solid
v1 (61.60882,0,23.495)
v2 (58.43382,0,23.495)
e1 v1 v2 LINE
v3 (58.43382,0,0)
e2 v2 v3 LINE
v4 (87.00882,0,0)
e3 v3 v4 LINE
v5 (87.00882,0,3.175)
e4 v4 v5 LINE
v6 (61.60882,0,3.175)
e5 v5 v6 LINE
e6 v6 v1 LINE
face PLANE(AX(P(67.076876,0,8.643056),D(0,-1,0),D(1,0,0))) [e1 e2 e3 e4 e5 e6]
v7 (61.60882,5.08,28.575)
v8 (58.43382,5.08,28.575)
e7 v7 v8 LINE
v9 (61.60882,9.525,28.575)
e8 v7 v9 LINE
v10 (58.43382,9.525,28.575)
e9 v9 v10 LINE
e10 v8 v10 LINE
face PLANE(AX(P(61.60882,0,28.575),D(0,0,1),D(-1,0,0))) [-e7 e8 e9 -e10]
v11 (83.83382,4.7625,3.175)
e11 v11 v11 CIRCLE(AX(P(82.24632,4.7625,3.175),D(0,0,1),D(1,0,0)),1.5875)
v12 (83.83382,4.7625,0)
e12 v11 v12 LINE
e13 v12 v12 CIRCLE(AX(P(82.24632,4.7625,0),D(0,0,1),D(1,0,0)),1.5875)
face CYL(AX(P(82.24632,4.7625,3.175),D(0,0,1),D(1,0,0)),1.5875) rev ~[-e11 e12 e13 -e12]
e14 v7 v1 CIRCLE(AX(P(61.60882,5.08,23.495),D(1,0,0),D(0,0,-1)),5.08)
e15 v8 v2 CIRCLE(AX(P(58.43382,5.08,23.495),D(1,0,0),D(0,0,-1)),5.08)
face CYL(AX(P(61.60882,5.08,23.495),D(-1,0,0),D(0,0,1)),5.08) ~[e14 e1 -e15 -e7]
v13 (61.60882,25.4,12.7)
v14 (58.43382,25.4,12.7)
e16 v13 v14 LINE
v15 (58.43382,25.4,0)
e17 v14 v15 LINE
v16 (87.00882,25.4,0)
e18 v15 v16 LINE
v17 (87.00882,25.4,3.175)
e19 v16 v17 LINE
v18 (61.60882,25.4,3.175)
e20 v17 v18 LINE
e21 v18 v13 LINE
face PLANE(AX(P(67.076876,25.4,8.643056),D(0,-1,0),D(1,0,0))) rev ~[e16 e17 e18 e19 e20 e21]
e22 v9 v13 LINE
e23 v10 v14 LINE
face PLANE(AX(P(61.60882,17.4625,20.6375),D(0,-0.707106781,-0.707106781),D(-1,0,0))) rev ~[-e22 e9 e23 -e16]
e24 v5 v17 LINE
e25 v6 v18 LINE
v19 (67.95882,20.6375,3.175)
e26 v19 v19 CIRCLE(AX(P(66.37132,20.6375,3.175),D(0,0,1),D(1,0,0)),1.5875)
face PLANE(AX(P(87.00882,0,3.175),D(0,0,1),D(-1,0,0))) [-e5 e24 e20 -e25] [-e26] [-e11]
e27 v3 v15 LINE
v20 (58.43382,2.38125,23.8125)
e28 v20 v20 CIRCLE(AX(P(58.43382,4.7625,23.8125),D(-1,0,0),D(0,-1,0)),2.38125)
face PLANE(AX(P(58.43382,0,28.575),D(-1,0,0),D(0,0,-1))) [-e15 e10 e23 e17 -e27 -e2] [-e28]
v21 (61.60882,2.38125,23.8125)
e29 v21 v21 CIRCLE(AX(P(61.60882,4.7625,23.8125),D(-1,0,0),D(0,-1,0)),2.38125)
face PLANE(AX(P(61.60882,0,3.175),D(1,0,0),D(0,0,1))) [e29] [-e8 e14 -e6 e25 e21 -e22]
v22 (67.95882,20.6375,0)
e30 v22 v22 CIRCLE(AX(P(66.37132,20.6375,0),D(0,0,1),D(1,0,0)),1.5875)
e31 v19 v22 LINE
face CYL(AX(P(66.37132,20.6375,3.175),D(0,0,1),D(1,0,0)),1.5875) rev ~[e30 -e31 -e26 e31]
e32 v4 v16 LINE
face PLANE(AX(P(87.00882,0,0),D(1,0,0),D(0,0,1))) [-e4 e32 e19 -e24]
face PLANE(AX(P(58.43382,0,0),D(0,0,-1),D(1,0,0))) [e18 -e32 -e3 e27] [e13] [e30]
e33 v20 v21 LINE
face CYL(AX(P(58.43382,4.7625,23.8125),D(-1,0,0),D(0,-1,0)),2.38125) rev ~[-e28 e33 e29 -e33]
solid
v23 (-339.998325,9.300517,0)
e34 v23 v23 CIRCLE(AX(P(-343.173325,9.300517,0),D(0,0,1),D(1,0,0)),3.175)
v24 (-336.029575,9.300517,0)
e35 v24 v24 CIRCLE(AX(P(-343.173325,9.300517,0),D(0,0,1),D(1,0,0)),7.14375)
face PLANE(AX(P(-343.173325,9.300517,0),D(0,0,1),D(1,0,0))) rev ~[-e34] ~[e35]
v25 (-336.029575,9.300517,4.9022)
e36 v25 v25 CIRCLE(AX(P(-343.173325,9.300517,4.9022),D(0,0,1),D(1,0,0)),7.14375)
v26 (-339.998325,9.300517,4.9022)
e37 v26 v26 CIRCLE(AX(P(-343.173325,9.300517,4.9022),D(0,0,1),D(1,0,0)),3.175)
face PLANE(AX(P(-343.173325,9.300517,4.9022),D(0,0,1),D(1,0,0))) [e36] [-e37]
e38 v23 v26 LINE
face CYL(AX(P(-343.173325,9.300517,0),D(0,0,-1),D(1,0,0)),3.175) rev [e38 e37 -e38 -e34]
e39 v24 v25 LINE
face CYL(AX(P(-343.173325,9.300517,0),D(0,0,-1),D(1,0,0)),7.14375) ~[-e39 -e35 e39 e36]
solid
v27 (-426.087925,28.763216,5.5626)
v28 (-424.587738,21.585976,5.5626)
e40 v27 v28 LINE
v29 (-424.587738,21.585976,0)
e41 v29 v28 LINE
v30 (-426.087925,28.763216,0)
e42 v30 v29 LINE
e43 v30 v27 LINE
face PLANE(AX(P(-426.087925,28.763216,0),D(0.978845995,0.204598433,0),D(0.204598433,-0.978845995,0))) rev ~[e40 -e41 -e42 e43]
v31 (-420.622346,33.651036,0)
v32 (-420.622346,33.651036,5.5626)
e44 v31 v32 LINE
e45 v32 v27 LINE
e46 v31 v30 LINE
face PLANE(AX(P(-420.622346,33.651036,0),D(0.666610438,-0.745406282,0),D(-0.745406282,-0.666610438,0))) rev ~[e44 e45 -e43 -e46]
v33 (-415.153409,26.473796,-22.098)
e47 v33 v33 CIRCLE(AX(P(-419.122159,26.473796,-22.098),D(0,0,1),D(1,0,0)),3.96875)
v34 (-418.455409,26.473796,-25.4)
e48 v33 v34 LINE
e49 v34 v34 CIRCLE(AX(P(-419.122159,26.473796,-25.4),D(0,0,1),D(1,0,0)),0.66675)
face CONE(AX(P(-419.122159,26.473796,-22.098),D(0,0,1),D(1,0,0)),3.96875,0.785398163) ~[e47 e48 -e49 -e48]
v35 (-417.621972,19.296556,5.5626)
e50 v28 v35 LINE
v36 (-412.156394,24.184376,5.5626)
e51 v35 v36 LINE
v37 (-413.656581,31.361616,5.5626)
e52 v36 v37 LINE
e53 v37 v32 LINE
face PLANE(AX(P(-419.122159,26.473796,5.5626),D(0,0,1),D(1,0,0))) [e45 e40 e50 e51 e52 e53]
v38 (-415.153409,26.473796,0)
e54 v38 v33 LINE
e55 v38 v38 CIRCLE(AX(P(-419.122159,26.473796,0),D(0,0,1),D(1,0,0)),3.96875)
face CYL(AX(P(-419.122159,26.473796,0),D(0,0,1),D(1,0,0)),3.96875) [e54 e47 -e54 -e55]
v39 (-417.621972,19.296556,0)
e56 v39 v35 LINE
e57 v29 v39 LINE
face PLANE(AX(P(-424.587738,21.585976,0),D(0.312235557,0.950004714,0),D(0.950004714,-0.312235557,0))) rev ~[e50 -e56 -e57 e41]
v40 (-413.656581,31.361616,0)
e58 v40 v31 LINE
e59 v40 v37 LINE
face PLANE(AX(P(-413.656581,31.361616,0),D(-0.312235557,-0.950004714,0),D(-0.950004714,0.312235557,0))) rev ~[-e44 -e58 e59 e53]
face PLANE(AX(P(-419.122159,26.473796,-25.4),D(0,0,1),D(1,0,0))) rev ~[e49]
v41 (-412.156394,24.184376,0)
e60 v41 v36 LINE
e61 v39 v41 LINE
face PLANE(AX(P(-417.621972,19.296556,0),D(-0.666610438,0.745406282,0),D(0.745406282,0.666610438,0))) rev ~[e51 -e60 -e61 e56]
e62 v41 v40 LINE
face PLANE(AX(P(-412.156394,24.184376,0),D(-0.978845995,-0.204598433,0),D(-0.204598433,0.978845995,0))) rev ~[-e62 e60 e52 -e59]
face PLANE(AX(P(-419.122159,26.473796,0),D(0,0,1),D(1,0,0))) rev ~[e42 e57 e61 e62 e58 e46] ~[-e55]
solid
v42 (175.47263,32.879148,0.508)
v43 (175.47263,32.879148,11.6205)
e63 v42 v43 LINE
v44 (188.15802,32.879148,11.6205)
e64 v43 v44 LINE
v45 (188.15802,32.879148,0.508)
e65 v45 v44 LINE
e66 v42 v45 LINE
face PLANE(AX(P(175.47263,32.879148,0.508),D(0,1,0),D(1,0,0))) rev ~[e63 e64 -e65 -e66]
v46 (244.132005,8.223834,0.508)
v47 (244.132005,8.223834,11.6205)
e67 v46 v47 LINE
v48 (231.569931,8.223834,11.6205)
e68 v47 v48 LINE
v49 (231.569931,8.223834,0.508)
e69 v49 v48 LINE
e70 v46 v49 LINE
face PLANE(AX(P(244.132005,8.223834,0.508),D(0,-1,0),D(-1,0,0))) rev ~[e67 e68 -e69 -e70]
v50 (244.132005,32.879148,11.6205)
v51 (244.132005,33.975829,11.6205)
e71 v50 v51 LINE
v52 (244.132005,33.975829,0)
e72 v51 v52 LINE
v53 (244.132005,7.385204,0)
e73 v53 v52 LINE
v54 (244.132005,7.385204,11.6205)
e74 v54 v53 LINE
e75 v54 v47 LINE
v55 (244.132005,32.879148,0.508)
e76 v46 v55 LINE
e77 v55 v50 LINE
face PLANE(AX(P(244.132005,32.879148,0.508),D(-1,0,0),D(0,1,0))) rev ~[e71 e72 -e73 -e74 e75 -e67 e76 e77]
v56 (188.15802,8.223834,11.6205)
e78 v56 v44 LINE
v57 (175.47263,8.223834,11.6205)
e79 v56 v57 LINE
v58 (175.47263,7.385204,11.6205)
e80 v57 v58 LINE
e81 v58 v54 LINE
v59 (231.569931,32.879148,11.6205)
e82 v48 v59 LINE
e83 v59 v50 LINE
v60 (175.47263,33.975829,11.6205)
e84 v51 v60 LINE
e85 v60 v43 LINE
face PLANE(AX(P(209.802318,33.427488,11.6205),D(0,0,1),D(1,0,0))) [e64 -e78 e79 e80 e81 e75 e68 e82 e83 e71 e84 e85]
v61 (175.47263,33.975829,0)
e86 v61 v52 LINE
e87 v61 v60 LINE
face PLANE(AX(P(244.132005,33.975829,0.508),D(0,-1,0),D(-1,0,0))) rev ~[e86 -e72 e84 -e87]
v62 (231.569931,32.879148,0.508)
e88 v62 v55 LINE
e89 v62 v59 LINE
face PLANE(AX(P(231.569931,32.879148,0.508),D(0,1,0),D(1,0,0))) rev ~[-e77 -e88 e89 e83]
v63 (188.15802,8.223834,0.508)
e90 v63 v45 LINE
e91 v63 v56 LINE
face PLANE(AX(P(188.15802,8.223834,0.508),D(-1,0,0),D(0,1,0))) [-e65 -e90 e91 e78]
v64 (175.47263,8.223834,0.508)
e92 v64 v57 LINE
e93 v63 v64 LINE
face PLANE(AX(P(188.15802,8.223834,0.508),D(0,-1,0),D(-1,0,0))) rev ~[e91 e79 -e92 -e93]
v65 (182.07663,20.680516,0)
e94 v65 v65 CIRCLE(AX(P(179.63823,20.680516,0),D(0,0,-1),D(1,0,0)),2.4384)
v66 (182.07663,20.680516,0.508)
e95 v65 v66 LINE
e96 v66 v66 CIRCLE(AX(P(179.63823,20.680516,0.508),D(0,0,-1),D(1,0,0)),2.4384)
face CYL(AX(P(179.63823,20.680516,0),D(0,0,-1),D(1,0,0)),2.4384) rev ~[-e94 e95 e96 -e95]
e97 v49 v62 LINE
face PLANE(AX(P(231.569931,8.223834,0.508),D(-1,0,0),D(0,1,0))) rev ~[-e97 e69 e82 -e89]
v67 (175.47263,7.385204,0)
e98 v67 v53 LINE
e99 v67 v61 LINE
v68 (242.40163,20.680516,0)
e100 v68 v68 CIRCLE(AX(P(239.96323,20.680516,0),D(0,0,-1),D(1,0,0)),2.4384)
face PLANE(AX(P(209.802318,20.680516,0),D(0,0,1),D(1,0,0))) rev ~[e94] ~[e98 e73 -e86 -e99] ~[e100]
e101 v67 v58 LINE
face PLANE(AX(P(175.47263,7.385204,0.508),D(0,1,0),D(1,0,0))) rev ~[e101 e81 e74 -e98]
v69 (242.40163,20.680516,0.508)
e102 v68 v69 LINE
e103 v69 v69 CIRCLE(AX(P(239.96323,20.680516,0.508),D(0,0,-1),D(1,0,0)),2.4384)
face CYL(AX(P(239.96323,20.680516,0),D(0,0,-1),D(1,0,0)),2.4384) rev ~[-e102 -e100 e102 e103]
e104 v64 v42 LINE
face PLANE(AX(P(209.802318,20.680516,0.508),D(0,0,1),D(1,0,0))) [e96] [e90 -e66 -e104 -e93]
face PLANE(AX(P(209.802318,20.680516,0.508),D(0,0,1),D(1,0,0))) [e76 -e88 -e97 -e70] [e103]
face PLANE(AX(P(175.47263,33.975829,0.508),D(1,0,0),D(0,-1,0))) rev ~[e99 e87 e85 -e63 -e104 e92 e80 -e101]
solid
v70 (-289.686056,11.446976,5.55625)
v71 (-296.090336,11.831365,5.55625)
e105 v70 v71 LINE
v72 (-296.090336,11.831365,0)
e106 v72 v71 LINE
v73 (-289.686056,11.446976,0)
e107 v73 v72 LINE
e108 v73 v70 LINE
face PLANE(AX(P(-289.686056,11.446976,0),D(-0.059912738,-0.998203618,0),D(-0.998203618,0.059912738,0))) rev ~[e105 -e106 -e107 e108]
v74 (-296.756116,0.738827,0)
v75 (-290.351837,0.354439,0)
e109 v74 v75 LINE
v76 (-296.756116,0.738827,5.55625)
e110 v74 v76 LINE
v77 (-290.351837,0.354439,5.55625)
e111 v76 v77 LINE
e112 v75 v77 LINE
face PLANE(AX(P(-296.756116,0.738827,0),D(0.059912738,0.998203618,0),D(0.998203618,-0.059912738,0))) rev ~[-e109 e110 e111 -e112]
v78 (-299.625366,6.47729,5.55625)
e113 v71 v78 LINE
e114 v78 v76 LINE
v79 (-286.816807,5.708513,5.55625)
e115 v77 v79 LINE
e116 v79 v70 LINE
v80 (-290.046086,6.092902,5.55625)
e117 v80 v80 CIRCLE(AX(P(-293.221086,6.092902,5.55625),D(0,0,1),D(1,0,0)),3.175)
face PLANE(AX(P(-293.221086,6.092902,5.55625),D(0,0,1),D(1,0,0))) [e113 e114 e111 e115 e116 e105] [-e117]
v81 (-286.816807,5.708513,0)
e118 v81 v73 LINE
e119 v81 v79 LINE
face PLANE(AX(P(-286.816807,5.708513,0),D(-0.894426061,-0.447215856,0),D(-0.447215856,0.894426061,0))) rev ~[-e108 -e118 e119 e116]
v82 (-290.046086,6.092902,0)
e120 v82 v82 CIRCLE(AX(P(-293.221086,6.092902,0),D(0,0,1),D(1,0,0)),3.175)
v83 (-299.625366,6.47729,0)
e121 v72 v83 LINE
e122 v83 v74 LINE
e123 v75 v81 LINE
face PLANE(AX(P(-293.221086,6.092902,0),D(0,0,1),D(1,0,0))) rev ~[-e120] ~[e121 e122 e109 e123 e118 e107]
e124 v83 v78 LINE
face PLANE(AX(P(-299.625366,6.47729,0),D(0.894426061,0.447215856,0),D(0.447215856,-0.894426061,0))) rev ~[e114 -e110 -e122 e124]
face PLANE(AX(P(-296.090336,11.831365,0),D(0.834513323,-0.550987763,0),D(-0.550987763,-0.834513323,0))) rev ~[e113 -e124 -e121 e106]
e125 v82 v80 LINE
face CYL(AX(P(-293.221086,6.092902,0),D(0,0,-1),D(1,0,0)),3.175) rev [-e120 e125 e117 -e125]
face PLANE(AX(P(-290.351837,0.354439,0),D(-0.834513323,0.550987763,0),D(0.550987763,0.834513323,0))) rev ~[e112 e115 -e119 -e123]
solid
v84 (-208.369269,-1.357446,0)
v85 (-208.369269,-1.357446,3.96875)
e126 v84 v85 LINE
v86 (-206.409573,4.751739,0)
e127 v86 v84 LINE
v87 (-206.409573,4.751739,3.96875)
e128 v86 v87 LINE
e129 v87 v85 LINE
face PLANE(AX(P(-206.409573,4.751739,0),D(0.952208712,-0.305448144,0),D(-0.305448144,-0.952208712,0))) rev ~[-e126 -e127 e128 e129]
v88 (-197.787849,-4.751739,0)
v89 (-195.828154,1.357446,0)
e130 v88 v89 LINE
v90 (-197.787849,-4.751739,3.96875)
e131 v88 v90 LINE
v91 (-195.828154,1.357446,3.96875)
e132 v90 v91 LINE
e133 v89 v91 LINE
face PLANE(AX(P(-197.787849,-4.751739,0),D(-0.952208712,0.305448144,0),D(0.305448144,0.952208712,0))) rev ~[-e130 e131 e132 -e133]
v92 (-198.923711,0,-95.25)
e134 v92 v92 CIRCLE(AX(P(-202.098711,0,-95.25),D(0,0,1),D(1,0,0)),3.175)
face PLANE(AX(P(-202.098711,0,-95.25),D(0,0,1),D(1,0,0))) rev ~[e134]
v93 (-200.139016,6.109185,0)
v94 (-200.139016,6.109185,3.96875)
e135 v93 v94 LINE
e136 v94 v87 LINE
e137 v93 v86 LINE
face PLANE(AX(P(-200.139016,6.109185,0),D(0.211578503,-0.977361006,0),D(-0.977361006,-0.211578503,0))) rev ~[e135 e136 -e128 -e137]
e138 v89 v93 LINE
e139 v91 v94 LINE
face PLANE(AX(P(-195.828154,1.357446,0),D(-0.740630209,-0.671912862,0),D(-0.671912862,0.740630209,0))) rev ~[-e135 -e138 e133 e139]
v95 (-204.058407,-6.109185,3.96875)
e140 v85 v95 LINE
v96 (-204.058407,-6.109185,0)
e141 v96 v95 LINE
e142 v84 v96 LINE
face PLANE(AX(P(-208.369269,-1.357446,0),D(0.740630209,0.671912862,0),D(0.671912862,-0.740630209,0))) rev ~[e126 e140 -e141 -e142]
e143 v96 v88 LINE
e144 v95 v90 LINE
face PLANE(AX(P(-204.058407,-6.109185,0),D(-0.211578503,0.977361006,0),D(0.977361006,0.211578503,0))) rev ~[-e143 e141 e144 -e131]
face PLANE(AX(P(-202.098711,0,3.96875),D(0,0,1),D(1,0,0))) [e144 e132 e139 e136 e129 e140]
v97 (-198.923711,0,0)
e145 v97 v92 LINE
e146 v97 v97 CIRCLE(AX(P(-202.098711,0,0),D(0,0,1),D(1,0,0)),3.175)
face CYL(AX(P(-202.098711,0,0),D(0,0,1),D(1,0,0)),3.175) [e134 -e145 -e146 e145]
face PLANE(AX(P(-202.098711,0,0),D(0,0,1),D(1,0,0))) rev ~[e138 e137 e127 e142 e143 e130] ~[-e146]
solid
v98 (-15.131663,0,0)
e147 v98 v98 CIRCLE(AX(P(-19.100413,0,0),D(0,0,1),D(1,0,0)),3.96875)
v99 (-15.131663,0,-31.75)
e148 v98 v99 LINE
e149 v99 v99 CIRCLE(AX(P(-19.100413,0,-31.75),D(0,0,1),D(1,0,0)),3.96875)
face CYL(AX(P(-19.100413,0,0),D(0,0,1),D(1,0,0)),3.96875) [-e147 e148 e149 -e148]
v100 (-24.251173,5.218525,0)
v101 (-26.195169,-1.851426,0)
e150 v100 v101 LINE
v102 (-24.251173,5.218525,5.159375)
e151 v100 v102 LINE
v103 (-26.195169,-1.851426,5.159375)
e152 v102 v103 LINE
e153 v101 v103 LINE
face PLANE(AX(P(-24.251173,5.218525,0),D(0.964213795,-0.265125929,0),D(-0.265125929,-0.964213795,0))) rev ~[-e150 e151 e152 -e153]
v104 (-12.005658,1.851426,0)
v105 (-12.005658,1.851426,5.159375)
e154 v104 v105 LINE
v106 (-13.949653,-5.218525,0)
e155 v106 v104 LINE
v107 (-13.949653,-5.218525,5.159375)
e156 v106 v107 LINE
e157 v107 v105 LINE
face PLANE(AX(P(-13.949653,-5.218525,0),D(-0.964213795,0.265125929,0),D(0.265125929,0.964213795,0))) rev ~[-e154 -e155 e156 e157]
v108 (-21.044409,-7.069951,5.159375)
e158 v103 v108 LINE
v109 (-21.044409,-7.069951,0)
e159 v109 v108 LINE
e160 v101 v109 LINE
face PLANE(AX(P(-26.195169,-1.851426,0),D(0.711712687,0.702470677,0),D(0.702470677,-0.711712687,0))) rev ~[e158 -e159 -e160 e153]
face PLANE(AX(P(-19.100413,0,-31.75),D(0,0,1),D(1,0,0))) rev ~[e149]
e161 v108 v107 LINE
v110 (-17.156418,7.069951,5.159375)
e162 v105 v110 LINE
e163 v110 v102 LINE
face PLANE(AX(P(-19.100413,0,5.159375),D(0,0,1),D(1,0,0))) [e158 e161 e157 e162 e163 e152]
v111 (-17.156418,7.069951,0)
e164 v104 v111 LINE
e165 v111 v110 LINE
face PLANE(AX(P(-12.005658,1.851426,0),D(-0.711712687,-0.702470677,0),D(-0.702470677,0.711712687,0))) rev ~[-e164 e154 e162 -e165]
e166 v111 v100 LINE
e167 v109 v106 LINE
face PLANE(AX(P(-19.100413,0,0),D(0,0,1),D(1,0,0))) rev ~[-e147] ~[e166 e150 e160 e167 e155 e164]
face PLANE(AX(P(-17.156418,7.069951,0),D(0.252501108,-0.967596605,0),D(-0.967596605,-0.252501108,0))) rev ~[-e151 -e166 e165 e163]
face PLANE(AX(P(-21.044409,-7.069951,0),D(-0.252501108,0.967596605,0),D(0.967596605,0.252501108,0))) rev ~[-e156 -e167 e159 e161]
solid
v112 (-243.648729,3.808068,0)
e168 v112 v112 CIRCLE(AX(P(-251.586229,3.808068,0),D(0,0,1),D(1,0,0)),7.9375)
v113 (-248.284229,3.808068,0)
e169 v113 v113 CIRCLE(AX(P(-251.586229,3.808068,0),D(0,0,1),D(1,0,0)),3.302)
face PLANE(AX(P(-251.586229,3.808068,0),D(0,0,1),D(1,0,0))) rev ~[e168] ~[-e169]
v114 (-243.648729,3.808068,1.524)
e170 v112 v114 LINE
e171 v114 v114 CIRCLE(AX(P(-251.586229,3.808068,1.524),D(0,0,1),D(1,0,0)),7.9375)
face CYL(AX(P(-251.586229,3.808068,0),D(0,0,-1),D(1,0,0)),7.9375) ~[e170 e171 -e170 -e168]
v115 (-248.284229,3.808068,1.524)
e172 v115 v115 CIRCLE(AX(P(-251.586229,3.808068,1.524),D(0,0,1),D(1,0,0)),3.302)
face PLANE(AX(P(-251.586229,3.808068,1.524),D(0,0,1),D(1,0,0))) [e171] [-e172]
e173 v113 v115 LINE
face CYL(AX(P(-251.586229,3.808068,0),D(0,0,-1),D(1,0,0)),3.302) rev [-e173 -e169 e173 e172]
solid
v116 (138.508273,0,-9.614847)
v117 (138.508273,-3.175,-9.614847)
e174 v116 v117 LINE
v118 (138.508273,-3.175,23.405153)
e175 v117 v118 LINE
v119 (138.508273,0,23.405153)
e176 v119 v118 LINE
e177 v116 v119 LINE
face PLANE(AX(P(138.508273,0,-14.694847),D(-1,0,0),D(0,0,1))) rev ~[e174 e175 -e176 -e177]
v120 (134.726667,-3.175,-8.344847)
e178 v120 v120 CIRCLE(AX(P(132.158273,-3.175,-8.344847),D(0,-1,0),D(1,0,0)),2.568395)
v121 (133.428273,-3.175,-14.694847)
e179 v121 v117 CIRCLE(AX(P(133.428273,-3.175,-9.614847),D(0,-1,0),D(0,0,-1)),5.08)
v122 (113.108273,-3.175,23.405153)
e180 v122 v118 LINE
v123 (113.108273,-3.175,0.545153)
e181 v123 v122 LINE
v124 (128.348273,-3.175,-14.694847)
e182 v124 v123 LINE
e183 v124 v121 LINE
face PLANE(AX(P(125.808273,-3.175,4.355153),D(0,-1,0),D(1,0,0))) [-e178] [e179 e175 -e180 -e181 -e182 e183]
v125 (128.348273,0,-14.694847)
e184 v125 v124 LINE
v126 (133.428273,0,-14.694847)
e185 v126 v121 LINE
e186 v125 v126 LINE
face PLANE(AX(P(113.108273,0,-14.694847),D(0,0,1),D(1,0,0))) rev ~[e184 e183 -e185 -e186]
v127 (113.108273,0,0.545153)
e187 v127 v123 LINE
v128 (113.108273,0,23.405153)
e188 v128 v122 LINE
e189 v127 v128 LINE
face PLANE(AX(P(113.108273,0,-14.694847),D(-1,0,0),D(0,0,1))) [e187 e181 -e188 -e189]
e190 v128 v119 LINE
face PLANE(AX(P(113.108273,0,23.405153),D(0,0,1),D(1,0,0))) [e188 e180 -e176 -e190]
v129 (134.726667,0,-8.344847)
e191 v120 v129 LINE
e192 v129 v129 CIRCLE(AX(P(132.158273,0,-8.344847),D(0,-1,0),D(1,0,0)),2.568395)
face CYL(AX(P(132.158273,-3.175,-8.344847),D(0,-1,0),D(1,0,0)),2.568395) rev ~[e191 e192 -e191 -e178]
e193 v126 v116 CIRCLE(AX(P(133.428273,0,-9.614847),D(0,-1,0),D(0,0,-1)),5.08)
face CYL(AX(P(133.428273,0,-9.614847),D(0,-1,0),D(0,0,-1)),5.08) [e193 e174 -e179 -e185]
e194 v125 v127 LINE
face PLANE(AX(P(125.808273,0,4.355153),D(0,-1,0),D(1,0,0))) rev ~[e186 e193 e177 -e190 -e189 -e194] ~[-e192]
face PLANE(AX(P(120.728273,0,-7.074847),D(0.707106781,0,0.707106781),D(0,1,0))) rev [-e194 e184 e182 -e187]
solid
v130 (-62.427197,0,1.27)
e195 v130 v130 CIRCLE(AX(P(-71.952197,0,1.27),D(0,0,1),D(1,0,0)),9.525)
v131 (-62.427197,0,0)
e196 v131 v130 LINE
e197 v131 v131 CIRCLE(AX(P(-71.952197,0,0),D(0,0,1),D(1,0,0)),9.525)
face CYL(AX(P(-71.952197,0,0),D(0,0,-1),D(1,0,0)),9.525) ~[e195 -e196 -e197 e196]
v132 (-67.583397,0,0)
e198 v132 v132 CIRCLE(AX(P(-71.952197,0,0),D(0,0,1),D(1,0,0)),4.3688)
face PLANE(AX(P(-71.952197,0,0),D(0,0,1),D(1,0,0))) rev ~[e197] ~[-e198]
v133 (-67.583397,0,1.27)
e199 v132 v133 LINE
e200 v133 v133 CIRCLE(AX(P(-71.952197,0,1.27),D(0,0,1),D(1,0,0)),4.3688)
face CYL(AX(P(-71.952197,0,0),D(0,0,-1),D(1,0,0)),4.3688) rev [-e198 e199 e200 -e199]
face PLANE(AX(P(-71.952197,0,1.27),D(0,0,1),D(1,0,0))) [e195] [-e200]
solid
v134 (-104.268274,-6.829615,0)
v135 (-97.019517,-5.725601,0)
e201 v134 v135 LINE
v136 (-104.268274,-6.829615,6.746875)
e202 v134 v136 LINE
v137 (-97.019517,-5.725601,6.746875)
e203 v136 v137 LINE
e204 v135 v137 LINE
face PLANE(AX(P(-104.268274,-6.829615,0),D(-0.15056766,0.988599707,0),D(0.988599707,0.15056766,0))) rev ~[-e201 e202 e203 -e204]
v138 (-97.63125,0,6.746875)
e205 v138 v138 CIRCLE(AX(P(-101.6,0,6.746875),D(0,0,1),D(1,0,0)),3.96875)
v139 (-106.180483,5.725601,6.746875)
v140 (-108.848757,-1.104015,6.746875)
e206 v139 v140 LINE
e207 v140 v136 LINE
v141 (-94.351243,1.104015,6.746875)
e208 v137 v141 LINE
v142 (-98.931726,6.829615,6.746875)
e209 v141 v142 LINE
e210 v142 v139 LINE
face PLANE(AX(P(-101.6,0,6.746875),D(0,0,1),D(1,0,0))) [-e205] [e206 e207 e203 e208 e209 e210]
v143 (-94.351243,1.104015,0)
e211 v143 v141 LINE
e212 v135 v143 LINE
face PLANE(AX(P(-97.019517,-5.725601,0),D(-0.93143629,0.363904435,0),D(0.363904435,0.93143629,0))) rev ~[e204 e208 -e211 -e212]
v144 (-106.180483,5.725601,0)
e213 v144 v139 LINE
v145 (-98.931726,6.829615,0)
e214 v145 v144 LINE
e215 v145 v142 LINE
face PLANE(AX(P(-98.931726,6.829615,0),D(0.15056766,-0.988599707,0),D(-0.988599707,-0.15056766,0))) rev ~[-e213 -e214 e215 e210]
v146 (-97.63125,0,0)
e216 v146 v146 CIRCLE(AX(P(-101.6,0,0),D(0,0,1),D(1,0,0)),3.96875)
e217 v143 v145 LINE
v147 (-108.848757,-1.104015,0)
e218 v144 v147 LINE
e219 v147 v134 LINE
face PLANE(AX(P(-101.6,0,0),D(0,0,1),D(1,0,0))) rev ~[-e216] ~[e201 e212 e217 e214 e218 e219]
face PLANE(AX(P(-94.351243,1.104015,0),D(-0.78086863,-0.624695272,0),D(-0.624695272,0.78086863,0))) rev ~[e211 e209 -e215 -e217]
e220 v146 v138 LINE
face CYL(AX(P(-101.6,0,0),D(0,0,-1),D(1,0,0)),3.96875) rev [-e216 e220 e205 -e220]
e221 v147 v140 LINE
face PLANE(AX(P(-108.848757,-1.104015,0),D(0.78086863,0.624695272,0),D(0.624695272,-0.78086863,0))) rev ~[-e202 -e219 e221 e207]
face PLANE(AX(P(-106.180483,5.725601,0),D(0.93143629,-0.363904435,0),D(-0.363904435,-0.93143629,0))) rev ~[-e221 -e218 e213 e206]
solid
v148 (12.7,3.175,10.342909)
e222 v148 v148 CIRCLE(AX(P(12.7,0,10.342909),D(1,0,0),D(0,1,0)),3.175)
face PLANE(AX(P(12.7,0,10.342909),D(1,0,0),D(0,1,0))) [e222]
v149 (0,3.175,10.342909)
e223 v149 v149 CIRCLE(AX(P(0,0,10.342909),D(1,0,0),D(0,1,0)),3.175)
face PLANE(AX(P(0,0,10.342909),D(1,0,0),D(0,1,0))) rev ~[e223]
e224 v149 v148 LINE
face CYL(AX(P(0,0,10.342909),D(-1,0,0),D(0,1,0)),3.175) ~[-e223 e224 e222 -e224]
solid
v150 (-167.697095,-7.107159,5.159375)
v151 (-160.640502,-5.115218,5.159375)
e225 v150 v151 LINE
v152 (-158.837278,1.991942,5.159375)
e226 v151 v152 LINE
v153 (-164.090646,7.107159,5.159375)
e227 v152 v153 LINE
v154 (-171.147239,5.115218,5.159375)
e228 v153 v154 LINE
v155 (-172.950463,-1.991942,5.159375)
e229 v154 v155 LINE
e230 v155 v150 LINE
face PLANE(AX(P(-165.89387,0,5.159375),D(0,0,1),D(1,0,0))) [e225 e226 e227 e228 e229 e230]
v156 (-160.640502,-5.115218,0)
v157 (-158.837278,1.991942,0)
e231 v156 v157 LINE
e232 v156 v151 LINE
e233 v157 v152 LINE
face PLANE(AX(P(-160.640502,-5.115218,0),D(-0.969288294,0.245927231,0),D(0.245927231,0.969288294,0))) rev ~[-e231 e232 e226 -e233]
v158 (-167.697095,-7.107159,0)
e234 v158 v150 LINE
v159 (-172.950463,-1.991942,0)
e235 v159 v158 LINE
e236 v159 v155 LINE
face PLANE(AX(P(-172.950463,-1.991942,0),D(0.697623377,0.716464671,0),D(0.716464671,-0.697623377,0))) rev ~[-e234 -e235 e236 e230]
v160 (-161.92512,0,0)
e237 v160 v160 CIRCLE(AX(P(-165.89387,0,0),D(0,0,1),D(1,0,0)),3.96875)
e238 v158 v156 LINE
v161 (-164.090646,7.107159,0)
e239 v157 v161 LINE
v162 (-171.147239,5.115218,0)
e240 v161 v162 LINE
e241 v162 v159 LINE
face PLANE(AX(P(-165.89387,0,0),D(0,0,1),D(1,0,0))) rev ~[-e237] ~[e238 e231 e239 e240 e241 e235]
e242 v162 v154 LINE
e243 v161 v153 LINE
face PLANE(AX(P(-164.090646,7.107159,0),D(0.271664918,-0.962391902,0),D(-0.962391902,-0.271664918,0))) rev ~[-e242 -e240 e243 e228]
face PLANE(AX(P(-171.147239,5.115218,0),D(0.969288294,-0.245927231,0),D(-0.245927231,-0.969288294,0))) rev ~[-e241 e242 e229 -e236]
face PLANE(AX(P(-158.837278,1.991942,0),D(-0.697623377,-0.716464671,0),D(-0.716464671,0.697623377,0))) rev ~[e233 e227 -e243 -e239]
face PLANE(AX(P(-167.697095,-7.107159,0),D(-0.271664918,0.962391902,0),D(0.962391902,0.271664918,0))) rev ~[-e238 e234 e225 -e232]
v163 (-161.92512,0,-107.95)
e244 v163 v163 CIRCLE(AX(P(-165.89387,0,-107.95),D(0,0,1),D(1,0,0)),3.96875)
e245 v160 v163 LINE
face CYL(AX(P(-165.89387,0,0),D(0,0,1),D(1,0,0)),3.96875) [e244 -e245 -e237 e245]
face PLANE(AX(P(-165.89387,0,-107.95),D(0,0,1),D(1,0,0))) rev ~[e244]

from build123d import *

# Parameters (mm, degrees)
F0_R      = 3.175
F1_DEPTH  = 12.7
F2_R      = 3.96875
F3_DEPTH  = 31.75
F4_R      = 3.96875
F5_DEPTH  = 5.159375
F6_R      = 9.525
F6_R_2    = 4.3688
F7_DEPTH  = 1.27
F8_R      = 3.96875
F9_DEPTH  = 6.746875
F11_DEPTH = 25.4
F12_R     = 1.5875
F13_DEPTH = 25.4
F14_R     = 2.38125
F15_DEPTH = 25.4
F16_R     = 5.08
F17_SIZE  = 15.875
F18_W     = 25.4
F18_H     = 38.1
F19_DEPTH = 3.175
F20_R     = 2.5683945877
F21_DEPTH = 25.4
F22_R     = 5.08
F23_SIZE  = 15.24
F24_R     = 3.96875
F25_DEPTH = 107.95
F27_DEPTH = 5.159375
F28_R     = 3.175
F29_DEPTH = 95.25
F30_R     = 3.175
F31_DEPTH = 3.96875
F32_R     = 7.9375
F32_R_2   = 3.302
F33_DEPTH = 1.524
F34_R     = 3.175
F35_DEPTH = 5.55625
F36_R     = 7.14375
F36_R_2   = 3.175
F37_DEPTH = 4.9022
F38_W     = 68.659375
F38_H     = 26.590625
F39_DEPTH = 0.508
F40_W     = 43.4119105339
F40_H     = 24.6553132311
F41_DEPTH = 11.1125
F42_R     = 2.4384
F43_DEPTH = 25.4
F44_R     = 3.96875
F45_DEPTH = 25.4
F47_DEPTH = 5.5626
F48_SIZE  = 3.302


with BuildPart() as f1:
    # F0 (on Right) → F1 (new body)
    with BuildSketch(Plane.YZ):
        with Locations((0, 10.3429089811)):
            Circle(F0_R)
    extrude(amount=F1_DEPTH)


with BuildPart() as f3:
    # F2 (on Top) → F3 (new body)
    with BuildSketch(Plane.XY):
        with Locations((-19.1004131994, 0)):
            Circle(F2_R)
    extrude(amount=-F3_DEPTH)

    # F4 (on face) → F5 (join)
    with BuildSketch(Plane.XY):
        Polygon((-12.0056577609, 1.8514260994), (-17.1564175154, 7.0699514931), (-24.2511729539, 5.2185253937), (-26.1951686378, -1.8514260994), (-21.0444088833, -7.0699514931), (-13.9496534448, -5.2185253937), align=None)
        with Locations((-19.1004131994, 0)):
            Circle(F4_R, mode=Mode.SUBTRACT)
        with Locations((-19.1004131994, 0)):
            Circle(F4_R)
    extrude(amount=F5_DEPTH)


with BuildPart() as f7:
    # F6 (on Top) → F7 (new body)
    with BuildSketch(Plane.XY):
        with Locations((-71.952196846, 0)):
            Circle(F6_R)
        with Locations((-71.952196846, 0)):
            Circle(F6_R_2, mode=Mode.SUBTRACT)
    extrude(amount=F7_DEPTH)


with BuildPart() as f9:
    # F8 (on Top) → F9 (new body)
    with BuildSketch(Plane.XY):
        Polygon((-94.3512425048, 1.1040145422), (-98.9317258921, 6.8296154078), (-106.1804833873, 5.7256008656), (-108.8487574952, -1.1040145422), (-104.2682741079, -6.8296154078), (-97.0195166127, -5.7256008656), align=None)
        with Locations((-101.6, 0)):
            Circle(F8_R, mode=Mode.SUBTRACT)
    extrude(amount=F9_DEPTH)


with BuildPart() as f11:
    # F10 (on Front) → F11 (new body)
    with BuildSketch(Plane.XZ):
        Polygon((61.6088200091, 28.575), (58.4338200091, 28.575), (58.4338200091, 0), (87.0088200091, 0), (87.0088200091, 3.175), (61.6088200091, 3.175), align=None)
    extrude(amount=-F11_DEPTH)

    # F12 (on face) → F13 (cut)
    with BuildSketch(Plane.XY.offset(3.175)):
        with Locations((66.3713200091, 20.6375)):
            Circle(F12_R)
        with Locations((82.2463200091, 4.7625)):
            Circle(F12_R)
    extrude(amount=-F13_DEPTH, mode=Mode.SUBTRACT)

    # F14 (on face) → F15 (cut)
    with BuildSketch(Plane(origin=(58.4338200091, 0, 0), x_dir=(0, -1, 0), z_dir=(-1, 0, 0))):
        with Locations((-4.7625, 23.8125)):
            Circle(F14_R)
    extrude(amount=-F15_DEPTH, mode=Mode.SUBTRACT)

    # F16
    f16_edges = [f11.edges().sort_by_distance(p)[0] for p in [
        (60.02132, 0, 28.575),
    ]]
    fillet(f16_edges, radius=F16_R)

    # F17
    f17_edges = [f11.edges().sort_by_distance(p)[0] for p in [
        (60.02132, 25.4, 28.575),
    ]]
    chamfer(f17_edges, length=F17_SIZE)


with BuildPart() as f19:
    # F18 (on Front) → F19 (new body)
    with BuildSketch(Plane.XZ):
        with Locations((125.8082725108, 4.3551529924)):
            Rectangle(F18_W, F18_H)
    extrude(amount=F19_DEPTH)

    # F20 (on face) → F21 (cut)
    with BuildSketch(Plane.XZ.offset(3.175)):
        with Locations((132.1582725108, -8.3448470076)):
            Circle(F20_R)
    extrude(amount=-F21_DEPTH, mode=Mode.SUBTRACT)

    # F22
    f22_edges = [f19.edges().sort_by_distance(p)[0] for p in [
        (138.508273, -1.5875, -14.694847),
    ]]
    fillet(f22_edges, radius=F22_R)

    # F23
    f23_edges = [f19.edges().sort_by_distance(p)[0] for p in [
        (113.108273, -1.5875, -14.694847),
    ]]
    chamfer(f23_edges, length=F23_SIZE)


with BuildPart() as f25:
    # F24 (on Top) → F25 (new body)
    with BuildSketch(Plane.XY):
        with Locations((-165.8938703613, 0)):
            Circle(F24_R)
    extrude(amount=-F25_DEPTH)

    # F26 (on face) → F27 (join)
    with BuildSketch(Plane.XY):
        Polygon((-158.8372776224, 1.991941829), (-164.0906462186, 7.1071594906), (-171.1472389575, 5.1152176616), (-172.9504631003, -1.991941829), (-167.6970945041, -7.1071594906), (-160.6405017651, -5.1152176616), align=None)
    extrude(amount=F27_DEPTH)


with BuildPart() as f29:
    # F28 (on Top) → F29 (new body)
    with BuildSketch(Plane.XY):
        with Locations((-202.0987113, 0)):
            Circle(F28_R)
    extrude(amount=-F29_DEPTH)

    # F30 (on face) → F31 (join)
    with BuildSketch(Plane.XY):
        Polygon((-195.8281537988, 1.357446392), (-200.1390156091, 6.1091852879), (-206.4095731104, 4.751738896), (-208.3692688012, -1.357446392), (-204.0584069909, -6.1091852879), (-197.7878494897, -4.751738896), align=None)
        with Locations((-202.0987113, 0)):
            Circle(F30_R, mode=Mode.SUBTRACT)
        with Locations((-202.0987113, 0)):
            Circle(F30_R)
    extrude(amount=F31_DEPTH)


with BuildPart() as f33:
    # F32 (on Top) → F33 (new body)
    with BuildSketch(Plane.XY):
        with Locations((-251.5862286091, 3.8080676459)):
            Circle(F32_R)
        with Locations((-251.5862286091, 3.8080676459)):
            Circle(F32_R_2, mode=Mode.SUBTRACT)
    extrude(amount=F33_DEPTH)


with BuildPart() as f35:
    # F34 (on Top) → F35 (new body)
    with BuildSketch(Plane.XY):
        Polygon((-286.8168066311, 5.7085133698), (-289.6860562956, 11.4469764433), (-296.0903359282, 11.8313648808), (-299.6253658963, 6.4772902447), (-296.7561162317, 0.7388271712), (-290.3518365991, 0.3544387338), align=None)
        with Locations((-293.2210862637, 6.0929018073)):
            Circle(F34_R, mode=Mode.SUBTRACT)
    extrude(amount=F35_DEPTH)


with BuildPart() as f37:
    # F36 (on Top) → F37 (new body)
    with BuildSketch(Plane.XY):
        with Locations((-343.1733250618, 9.3005169183)):
            Circle(F36_R)
        with Locations((-343.1733250618, 9.3005169183)):
            Circle(F36_R_2, mode=Mode.SUBTRACT)
    extrude(amount=F37_DEPTH)


with BuildPart() as f39:
    # F38 (on Top) → F39 (new body)
    with BuildSketch(Plane.XY):
        with Locations((209.8023176429, 20.6805164926)):
            Rectangle(F38_W, F38_H)
    extrude(amount=F39_DEPTH)

    # F40 (on face) → F41 (join)
    with BuildSketch(Plane.XY.offset(0.508)):
        Polygon((244.1320051429, 33.9758289926), (175.4726301429, 33.9758289926), (175.4726301429, 32.8791476786), (188.1580203772, 32.8791476786), (231.5699309111, 32.8791476786), (244.1320051429, 32.8791476786), align=None)
        with Locations((209.8639756441, 20.5514910631)):
            Rectangle(F40_W, F40_H)
        Polygon((231.5699309111, 8.2238344476), (188.1580203772, 8.2238344476), (175.4726301429, 8.2238344476), (175.4726301429, 7.3852039926), (244.1320051429, 7.3852039926), (244.1320051429, 8.2238344476), align=None)
    extrude(amount=F41_DEPTH)

    # F42 (on face) → F43 (cut)
    with BuildSketch(Plane(origin=(0, 0, 0), x_dir=(1, 0, 0), z_dir=(0, 0, -1))):
        with Locations((239.9632301429, -20.6805164926)):
            Circle(F42_R)
        with Locations((179.6382301429, -20.6805164926)):
            Circle(F42_R)
    extrude(amount=-F43_DEPTH, mode=Mode.SUBTRACT)


with BuildPart() as f45:
    # F44 (on Top) → F45 (new body)
    with BuildSketch(Plane.XY):
        with Locations((-419.122159481, 26.4737959951)):
            Circle(F44_R)
    extrude(amount=-F45_DEPTH)

    # F46 (on face) → F47 (join)
    with BuildSketch(Plane.XY):
        Polygon((-417.6219724877, 19.2965561135), (-412.1563939178, 24.1843761009), (-413.6565809112, 31.3616159826), (-420.6223464744, 33.6510358767), (-426.0879250442, 28.7632158893), (-424.5877380509, 21.5859760077), align=None)
    extrude(amount=F47_DEPTH)

    # F48
    f48_edges = [f45.edges().sort_by_distance(p)[0] for p in [
        (-423.090909, 26.473796, -25.4),
    ]]
    chamfer(f48_edges, length=F48_SIZE)


solid = Compound([f1.part, f3.part, f7.part, f9.part, f11.part, f19.part, f25.part, f29.part, f33.part, f35.part, f37.part, f39.part, f45.part])
